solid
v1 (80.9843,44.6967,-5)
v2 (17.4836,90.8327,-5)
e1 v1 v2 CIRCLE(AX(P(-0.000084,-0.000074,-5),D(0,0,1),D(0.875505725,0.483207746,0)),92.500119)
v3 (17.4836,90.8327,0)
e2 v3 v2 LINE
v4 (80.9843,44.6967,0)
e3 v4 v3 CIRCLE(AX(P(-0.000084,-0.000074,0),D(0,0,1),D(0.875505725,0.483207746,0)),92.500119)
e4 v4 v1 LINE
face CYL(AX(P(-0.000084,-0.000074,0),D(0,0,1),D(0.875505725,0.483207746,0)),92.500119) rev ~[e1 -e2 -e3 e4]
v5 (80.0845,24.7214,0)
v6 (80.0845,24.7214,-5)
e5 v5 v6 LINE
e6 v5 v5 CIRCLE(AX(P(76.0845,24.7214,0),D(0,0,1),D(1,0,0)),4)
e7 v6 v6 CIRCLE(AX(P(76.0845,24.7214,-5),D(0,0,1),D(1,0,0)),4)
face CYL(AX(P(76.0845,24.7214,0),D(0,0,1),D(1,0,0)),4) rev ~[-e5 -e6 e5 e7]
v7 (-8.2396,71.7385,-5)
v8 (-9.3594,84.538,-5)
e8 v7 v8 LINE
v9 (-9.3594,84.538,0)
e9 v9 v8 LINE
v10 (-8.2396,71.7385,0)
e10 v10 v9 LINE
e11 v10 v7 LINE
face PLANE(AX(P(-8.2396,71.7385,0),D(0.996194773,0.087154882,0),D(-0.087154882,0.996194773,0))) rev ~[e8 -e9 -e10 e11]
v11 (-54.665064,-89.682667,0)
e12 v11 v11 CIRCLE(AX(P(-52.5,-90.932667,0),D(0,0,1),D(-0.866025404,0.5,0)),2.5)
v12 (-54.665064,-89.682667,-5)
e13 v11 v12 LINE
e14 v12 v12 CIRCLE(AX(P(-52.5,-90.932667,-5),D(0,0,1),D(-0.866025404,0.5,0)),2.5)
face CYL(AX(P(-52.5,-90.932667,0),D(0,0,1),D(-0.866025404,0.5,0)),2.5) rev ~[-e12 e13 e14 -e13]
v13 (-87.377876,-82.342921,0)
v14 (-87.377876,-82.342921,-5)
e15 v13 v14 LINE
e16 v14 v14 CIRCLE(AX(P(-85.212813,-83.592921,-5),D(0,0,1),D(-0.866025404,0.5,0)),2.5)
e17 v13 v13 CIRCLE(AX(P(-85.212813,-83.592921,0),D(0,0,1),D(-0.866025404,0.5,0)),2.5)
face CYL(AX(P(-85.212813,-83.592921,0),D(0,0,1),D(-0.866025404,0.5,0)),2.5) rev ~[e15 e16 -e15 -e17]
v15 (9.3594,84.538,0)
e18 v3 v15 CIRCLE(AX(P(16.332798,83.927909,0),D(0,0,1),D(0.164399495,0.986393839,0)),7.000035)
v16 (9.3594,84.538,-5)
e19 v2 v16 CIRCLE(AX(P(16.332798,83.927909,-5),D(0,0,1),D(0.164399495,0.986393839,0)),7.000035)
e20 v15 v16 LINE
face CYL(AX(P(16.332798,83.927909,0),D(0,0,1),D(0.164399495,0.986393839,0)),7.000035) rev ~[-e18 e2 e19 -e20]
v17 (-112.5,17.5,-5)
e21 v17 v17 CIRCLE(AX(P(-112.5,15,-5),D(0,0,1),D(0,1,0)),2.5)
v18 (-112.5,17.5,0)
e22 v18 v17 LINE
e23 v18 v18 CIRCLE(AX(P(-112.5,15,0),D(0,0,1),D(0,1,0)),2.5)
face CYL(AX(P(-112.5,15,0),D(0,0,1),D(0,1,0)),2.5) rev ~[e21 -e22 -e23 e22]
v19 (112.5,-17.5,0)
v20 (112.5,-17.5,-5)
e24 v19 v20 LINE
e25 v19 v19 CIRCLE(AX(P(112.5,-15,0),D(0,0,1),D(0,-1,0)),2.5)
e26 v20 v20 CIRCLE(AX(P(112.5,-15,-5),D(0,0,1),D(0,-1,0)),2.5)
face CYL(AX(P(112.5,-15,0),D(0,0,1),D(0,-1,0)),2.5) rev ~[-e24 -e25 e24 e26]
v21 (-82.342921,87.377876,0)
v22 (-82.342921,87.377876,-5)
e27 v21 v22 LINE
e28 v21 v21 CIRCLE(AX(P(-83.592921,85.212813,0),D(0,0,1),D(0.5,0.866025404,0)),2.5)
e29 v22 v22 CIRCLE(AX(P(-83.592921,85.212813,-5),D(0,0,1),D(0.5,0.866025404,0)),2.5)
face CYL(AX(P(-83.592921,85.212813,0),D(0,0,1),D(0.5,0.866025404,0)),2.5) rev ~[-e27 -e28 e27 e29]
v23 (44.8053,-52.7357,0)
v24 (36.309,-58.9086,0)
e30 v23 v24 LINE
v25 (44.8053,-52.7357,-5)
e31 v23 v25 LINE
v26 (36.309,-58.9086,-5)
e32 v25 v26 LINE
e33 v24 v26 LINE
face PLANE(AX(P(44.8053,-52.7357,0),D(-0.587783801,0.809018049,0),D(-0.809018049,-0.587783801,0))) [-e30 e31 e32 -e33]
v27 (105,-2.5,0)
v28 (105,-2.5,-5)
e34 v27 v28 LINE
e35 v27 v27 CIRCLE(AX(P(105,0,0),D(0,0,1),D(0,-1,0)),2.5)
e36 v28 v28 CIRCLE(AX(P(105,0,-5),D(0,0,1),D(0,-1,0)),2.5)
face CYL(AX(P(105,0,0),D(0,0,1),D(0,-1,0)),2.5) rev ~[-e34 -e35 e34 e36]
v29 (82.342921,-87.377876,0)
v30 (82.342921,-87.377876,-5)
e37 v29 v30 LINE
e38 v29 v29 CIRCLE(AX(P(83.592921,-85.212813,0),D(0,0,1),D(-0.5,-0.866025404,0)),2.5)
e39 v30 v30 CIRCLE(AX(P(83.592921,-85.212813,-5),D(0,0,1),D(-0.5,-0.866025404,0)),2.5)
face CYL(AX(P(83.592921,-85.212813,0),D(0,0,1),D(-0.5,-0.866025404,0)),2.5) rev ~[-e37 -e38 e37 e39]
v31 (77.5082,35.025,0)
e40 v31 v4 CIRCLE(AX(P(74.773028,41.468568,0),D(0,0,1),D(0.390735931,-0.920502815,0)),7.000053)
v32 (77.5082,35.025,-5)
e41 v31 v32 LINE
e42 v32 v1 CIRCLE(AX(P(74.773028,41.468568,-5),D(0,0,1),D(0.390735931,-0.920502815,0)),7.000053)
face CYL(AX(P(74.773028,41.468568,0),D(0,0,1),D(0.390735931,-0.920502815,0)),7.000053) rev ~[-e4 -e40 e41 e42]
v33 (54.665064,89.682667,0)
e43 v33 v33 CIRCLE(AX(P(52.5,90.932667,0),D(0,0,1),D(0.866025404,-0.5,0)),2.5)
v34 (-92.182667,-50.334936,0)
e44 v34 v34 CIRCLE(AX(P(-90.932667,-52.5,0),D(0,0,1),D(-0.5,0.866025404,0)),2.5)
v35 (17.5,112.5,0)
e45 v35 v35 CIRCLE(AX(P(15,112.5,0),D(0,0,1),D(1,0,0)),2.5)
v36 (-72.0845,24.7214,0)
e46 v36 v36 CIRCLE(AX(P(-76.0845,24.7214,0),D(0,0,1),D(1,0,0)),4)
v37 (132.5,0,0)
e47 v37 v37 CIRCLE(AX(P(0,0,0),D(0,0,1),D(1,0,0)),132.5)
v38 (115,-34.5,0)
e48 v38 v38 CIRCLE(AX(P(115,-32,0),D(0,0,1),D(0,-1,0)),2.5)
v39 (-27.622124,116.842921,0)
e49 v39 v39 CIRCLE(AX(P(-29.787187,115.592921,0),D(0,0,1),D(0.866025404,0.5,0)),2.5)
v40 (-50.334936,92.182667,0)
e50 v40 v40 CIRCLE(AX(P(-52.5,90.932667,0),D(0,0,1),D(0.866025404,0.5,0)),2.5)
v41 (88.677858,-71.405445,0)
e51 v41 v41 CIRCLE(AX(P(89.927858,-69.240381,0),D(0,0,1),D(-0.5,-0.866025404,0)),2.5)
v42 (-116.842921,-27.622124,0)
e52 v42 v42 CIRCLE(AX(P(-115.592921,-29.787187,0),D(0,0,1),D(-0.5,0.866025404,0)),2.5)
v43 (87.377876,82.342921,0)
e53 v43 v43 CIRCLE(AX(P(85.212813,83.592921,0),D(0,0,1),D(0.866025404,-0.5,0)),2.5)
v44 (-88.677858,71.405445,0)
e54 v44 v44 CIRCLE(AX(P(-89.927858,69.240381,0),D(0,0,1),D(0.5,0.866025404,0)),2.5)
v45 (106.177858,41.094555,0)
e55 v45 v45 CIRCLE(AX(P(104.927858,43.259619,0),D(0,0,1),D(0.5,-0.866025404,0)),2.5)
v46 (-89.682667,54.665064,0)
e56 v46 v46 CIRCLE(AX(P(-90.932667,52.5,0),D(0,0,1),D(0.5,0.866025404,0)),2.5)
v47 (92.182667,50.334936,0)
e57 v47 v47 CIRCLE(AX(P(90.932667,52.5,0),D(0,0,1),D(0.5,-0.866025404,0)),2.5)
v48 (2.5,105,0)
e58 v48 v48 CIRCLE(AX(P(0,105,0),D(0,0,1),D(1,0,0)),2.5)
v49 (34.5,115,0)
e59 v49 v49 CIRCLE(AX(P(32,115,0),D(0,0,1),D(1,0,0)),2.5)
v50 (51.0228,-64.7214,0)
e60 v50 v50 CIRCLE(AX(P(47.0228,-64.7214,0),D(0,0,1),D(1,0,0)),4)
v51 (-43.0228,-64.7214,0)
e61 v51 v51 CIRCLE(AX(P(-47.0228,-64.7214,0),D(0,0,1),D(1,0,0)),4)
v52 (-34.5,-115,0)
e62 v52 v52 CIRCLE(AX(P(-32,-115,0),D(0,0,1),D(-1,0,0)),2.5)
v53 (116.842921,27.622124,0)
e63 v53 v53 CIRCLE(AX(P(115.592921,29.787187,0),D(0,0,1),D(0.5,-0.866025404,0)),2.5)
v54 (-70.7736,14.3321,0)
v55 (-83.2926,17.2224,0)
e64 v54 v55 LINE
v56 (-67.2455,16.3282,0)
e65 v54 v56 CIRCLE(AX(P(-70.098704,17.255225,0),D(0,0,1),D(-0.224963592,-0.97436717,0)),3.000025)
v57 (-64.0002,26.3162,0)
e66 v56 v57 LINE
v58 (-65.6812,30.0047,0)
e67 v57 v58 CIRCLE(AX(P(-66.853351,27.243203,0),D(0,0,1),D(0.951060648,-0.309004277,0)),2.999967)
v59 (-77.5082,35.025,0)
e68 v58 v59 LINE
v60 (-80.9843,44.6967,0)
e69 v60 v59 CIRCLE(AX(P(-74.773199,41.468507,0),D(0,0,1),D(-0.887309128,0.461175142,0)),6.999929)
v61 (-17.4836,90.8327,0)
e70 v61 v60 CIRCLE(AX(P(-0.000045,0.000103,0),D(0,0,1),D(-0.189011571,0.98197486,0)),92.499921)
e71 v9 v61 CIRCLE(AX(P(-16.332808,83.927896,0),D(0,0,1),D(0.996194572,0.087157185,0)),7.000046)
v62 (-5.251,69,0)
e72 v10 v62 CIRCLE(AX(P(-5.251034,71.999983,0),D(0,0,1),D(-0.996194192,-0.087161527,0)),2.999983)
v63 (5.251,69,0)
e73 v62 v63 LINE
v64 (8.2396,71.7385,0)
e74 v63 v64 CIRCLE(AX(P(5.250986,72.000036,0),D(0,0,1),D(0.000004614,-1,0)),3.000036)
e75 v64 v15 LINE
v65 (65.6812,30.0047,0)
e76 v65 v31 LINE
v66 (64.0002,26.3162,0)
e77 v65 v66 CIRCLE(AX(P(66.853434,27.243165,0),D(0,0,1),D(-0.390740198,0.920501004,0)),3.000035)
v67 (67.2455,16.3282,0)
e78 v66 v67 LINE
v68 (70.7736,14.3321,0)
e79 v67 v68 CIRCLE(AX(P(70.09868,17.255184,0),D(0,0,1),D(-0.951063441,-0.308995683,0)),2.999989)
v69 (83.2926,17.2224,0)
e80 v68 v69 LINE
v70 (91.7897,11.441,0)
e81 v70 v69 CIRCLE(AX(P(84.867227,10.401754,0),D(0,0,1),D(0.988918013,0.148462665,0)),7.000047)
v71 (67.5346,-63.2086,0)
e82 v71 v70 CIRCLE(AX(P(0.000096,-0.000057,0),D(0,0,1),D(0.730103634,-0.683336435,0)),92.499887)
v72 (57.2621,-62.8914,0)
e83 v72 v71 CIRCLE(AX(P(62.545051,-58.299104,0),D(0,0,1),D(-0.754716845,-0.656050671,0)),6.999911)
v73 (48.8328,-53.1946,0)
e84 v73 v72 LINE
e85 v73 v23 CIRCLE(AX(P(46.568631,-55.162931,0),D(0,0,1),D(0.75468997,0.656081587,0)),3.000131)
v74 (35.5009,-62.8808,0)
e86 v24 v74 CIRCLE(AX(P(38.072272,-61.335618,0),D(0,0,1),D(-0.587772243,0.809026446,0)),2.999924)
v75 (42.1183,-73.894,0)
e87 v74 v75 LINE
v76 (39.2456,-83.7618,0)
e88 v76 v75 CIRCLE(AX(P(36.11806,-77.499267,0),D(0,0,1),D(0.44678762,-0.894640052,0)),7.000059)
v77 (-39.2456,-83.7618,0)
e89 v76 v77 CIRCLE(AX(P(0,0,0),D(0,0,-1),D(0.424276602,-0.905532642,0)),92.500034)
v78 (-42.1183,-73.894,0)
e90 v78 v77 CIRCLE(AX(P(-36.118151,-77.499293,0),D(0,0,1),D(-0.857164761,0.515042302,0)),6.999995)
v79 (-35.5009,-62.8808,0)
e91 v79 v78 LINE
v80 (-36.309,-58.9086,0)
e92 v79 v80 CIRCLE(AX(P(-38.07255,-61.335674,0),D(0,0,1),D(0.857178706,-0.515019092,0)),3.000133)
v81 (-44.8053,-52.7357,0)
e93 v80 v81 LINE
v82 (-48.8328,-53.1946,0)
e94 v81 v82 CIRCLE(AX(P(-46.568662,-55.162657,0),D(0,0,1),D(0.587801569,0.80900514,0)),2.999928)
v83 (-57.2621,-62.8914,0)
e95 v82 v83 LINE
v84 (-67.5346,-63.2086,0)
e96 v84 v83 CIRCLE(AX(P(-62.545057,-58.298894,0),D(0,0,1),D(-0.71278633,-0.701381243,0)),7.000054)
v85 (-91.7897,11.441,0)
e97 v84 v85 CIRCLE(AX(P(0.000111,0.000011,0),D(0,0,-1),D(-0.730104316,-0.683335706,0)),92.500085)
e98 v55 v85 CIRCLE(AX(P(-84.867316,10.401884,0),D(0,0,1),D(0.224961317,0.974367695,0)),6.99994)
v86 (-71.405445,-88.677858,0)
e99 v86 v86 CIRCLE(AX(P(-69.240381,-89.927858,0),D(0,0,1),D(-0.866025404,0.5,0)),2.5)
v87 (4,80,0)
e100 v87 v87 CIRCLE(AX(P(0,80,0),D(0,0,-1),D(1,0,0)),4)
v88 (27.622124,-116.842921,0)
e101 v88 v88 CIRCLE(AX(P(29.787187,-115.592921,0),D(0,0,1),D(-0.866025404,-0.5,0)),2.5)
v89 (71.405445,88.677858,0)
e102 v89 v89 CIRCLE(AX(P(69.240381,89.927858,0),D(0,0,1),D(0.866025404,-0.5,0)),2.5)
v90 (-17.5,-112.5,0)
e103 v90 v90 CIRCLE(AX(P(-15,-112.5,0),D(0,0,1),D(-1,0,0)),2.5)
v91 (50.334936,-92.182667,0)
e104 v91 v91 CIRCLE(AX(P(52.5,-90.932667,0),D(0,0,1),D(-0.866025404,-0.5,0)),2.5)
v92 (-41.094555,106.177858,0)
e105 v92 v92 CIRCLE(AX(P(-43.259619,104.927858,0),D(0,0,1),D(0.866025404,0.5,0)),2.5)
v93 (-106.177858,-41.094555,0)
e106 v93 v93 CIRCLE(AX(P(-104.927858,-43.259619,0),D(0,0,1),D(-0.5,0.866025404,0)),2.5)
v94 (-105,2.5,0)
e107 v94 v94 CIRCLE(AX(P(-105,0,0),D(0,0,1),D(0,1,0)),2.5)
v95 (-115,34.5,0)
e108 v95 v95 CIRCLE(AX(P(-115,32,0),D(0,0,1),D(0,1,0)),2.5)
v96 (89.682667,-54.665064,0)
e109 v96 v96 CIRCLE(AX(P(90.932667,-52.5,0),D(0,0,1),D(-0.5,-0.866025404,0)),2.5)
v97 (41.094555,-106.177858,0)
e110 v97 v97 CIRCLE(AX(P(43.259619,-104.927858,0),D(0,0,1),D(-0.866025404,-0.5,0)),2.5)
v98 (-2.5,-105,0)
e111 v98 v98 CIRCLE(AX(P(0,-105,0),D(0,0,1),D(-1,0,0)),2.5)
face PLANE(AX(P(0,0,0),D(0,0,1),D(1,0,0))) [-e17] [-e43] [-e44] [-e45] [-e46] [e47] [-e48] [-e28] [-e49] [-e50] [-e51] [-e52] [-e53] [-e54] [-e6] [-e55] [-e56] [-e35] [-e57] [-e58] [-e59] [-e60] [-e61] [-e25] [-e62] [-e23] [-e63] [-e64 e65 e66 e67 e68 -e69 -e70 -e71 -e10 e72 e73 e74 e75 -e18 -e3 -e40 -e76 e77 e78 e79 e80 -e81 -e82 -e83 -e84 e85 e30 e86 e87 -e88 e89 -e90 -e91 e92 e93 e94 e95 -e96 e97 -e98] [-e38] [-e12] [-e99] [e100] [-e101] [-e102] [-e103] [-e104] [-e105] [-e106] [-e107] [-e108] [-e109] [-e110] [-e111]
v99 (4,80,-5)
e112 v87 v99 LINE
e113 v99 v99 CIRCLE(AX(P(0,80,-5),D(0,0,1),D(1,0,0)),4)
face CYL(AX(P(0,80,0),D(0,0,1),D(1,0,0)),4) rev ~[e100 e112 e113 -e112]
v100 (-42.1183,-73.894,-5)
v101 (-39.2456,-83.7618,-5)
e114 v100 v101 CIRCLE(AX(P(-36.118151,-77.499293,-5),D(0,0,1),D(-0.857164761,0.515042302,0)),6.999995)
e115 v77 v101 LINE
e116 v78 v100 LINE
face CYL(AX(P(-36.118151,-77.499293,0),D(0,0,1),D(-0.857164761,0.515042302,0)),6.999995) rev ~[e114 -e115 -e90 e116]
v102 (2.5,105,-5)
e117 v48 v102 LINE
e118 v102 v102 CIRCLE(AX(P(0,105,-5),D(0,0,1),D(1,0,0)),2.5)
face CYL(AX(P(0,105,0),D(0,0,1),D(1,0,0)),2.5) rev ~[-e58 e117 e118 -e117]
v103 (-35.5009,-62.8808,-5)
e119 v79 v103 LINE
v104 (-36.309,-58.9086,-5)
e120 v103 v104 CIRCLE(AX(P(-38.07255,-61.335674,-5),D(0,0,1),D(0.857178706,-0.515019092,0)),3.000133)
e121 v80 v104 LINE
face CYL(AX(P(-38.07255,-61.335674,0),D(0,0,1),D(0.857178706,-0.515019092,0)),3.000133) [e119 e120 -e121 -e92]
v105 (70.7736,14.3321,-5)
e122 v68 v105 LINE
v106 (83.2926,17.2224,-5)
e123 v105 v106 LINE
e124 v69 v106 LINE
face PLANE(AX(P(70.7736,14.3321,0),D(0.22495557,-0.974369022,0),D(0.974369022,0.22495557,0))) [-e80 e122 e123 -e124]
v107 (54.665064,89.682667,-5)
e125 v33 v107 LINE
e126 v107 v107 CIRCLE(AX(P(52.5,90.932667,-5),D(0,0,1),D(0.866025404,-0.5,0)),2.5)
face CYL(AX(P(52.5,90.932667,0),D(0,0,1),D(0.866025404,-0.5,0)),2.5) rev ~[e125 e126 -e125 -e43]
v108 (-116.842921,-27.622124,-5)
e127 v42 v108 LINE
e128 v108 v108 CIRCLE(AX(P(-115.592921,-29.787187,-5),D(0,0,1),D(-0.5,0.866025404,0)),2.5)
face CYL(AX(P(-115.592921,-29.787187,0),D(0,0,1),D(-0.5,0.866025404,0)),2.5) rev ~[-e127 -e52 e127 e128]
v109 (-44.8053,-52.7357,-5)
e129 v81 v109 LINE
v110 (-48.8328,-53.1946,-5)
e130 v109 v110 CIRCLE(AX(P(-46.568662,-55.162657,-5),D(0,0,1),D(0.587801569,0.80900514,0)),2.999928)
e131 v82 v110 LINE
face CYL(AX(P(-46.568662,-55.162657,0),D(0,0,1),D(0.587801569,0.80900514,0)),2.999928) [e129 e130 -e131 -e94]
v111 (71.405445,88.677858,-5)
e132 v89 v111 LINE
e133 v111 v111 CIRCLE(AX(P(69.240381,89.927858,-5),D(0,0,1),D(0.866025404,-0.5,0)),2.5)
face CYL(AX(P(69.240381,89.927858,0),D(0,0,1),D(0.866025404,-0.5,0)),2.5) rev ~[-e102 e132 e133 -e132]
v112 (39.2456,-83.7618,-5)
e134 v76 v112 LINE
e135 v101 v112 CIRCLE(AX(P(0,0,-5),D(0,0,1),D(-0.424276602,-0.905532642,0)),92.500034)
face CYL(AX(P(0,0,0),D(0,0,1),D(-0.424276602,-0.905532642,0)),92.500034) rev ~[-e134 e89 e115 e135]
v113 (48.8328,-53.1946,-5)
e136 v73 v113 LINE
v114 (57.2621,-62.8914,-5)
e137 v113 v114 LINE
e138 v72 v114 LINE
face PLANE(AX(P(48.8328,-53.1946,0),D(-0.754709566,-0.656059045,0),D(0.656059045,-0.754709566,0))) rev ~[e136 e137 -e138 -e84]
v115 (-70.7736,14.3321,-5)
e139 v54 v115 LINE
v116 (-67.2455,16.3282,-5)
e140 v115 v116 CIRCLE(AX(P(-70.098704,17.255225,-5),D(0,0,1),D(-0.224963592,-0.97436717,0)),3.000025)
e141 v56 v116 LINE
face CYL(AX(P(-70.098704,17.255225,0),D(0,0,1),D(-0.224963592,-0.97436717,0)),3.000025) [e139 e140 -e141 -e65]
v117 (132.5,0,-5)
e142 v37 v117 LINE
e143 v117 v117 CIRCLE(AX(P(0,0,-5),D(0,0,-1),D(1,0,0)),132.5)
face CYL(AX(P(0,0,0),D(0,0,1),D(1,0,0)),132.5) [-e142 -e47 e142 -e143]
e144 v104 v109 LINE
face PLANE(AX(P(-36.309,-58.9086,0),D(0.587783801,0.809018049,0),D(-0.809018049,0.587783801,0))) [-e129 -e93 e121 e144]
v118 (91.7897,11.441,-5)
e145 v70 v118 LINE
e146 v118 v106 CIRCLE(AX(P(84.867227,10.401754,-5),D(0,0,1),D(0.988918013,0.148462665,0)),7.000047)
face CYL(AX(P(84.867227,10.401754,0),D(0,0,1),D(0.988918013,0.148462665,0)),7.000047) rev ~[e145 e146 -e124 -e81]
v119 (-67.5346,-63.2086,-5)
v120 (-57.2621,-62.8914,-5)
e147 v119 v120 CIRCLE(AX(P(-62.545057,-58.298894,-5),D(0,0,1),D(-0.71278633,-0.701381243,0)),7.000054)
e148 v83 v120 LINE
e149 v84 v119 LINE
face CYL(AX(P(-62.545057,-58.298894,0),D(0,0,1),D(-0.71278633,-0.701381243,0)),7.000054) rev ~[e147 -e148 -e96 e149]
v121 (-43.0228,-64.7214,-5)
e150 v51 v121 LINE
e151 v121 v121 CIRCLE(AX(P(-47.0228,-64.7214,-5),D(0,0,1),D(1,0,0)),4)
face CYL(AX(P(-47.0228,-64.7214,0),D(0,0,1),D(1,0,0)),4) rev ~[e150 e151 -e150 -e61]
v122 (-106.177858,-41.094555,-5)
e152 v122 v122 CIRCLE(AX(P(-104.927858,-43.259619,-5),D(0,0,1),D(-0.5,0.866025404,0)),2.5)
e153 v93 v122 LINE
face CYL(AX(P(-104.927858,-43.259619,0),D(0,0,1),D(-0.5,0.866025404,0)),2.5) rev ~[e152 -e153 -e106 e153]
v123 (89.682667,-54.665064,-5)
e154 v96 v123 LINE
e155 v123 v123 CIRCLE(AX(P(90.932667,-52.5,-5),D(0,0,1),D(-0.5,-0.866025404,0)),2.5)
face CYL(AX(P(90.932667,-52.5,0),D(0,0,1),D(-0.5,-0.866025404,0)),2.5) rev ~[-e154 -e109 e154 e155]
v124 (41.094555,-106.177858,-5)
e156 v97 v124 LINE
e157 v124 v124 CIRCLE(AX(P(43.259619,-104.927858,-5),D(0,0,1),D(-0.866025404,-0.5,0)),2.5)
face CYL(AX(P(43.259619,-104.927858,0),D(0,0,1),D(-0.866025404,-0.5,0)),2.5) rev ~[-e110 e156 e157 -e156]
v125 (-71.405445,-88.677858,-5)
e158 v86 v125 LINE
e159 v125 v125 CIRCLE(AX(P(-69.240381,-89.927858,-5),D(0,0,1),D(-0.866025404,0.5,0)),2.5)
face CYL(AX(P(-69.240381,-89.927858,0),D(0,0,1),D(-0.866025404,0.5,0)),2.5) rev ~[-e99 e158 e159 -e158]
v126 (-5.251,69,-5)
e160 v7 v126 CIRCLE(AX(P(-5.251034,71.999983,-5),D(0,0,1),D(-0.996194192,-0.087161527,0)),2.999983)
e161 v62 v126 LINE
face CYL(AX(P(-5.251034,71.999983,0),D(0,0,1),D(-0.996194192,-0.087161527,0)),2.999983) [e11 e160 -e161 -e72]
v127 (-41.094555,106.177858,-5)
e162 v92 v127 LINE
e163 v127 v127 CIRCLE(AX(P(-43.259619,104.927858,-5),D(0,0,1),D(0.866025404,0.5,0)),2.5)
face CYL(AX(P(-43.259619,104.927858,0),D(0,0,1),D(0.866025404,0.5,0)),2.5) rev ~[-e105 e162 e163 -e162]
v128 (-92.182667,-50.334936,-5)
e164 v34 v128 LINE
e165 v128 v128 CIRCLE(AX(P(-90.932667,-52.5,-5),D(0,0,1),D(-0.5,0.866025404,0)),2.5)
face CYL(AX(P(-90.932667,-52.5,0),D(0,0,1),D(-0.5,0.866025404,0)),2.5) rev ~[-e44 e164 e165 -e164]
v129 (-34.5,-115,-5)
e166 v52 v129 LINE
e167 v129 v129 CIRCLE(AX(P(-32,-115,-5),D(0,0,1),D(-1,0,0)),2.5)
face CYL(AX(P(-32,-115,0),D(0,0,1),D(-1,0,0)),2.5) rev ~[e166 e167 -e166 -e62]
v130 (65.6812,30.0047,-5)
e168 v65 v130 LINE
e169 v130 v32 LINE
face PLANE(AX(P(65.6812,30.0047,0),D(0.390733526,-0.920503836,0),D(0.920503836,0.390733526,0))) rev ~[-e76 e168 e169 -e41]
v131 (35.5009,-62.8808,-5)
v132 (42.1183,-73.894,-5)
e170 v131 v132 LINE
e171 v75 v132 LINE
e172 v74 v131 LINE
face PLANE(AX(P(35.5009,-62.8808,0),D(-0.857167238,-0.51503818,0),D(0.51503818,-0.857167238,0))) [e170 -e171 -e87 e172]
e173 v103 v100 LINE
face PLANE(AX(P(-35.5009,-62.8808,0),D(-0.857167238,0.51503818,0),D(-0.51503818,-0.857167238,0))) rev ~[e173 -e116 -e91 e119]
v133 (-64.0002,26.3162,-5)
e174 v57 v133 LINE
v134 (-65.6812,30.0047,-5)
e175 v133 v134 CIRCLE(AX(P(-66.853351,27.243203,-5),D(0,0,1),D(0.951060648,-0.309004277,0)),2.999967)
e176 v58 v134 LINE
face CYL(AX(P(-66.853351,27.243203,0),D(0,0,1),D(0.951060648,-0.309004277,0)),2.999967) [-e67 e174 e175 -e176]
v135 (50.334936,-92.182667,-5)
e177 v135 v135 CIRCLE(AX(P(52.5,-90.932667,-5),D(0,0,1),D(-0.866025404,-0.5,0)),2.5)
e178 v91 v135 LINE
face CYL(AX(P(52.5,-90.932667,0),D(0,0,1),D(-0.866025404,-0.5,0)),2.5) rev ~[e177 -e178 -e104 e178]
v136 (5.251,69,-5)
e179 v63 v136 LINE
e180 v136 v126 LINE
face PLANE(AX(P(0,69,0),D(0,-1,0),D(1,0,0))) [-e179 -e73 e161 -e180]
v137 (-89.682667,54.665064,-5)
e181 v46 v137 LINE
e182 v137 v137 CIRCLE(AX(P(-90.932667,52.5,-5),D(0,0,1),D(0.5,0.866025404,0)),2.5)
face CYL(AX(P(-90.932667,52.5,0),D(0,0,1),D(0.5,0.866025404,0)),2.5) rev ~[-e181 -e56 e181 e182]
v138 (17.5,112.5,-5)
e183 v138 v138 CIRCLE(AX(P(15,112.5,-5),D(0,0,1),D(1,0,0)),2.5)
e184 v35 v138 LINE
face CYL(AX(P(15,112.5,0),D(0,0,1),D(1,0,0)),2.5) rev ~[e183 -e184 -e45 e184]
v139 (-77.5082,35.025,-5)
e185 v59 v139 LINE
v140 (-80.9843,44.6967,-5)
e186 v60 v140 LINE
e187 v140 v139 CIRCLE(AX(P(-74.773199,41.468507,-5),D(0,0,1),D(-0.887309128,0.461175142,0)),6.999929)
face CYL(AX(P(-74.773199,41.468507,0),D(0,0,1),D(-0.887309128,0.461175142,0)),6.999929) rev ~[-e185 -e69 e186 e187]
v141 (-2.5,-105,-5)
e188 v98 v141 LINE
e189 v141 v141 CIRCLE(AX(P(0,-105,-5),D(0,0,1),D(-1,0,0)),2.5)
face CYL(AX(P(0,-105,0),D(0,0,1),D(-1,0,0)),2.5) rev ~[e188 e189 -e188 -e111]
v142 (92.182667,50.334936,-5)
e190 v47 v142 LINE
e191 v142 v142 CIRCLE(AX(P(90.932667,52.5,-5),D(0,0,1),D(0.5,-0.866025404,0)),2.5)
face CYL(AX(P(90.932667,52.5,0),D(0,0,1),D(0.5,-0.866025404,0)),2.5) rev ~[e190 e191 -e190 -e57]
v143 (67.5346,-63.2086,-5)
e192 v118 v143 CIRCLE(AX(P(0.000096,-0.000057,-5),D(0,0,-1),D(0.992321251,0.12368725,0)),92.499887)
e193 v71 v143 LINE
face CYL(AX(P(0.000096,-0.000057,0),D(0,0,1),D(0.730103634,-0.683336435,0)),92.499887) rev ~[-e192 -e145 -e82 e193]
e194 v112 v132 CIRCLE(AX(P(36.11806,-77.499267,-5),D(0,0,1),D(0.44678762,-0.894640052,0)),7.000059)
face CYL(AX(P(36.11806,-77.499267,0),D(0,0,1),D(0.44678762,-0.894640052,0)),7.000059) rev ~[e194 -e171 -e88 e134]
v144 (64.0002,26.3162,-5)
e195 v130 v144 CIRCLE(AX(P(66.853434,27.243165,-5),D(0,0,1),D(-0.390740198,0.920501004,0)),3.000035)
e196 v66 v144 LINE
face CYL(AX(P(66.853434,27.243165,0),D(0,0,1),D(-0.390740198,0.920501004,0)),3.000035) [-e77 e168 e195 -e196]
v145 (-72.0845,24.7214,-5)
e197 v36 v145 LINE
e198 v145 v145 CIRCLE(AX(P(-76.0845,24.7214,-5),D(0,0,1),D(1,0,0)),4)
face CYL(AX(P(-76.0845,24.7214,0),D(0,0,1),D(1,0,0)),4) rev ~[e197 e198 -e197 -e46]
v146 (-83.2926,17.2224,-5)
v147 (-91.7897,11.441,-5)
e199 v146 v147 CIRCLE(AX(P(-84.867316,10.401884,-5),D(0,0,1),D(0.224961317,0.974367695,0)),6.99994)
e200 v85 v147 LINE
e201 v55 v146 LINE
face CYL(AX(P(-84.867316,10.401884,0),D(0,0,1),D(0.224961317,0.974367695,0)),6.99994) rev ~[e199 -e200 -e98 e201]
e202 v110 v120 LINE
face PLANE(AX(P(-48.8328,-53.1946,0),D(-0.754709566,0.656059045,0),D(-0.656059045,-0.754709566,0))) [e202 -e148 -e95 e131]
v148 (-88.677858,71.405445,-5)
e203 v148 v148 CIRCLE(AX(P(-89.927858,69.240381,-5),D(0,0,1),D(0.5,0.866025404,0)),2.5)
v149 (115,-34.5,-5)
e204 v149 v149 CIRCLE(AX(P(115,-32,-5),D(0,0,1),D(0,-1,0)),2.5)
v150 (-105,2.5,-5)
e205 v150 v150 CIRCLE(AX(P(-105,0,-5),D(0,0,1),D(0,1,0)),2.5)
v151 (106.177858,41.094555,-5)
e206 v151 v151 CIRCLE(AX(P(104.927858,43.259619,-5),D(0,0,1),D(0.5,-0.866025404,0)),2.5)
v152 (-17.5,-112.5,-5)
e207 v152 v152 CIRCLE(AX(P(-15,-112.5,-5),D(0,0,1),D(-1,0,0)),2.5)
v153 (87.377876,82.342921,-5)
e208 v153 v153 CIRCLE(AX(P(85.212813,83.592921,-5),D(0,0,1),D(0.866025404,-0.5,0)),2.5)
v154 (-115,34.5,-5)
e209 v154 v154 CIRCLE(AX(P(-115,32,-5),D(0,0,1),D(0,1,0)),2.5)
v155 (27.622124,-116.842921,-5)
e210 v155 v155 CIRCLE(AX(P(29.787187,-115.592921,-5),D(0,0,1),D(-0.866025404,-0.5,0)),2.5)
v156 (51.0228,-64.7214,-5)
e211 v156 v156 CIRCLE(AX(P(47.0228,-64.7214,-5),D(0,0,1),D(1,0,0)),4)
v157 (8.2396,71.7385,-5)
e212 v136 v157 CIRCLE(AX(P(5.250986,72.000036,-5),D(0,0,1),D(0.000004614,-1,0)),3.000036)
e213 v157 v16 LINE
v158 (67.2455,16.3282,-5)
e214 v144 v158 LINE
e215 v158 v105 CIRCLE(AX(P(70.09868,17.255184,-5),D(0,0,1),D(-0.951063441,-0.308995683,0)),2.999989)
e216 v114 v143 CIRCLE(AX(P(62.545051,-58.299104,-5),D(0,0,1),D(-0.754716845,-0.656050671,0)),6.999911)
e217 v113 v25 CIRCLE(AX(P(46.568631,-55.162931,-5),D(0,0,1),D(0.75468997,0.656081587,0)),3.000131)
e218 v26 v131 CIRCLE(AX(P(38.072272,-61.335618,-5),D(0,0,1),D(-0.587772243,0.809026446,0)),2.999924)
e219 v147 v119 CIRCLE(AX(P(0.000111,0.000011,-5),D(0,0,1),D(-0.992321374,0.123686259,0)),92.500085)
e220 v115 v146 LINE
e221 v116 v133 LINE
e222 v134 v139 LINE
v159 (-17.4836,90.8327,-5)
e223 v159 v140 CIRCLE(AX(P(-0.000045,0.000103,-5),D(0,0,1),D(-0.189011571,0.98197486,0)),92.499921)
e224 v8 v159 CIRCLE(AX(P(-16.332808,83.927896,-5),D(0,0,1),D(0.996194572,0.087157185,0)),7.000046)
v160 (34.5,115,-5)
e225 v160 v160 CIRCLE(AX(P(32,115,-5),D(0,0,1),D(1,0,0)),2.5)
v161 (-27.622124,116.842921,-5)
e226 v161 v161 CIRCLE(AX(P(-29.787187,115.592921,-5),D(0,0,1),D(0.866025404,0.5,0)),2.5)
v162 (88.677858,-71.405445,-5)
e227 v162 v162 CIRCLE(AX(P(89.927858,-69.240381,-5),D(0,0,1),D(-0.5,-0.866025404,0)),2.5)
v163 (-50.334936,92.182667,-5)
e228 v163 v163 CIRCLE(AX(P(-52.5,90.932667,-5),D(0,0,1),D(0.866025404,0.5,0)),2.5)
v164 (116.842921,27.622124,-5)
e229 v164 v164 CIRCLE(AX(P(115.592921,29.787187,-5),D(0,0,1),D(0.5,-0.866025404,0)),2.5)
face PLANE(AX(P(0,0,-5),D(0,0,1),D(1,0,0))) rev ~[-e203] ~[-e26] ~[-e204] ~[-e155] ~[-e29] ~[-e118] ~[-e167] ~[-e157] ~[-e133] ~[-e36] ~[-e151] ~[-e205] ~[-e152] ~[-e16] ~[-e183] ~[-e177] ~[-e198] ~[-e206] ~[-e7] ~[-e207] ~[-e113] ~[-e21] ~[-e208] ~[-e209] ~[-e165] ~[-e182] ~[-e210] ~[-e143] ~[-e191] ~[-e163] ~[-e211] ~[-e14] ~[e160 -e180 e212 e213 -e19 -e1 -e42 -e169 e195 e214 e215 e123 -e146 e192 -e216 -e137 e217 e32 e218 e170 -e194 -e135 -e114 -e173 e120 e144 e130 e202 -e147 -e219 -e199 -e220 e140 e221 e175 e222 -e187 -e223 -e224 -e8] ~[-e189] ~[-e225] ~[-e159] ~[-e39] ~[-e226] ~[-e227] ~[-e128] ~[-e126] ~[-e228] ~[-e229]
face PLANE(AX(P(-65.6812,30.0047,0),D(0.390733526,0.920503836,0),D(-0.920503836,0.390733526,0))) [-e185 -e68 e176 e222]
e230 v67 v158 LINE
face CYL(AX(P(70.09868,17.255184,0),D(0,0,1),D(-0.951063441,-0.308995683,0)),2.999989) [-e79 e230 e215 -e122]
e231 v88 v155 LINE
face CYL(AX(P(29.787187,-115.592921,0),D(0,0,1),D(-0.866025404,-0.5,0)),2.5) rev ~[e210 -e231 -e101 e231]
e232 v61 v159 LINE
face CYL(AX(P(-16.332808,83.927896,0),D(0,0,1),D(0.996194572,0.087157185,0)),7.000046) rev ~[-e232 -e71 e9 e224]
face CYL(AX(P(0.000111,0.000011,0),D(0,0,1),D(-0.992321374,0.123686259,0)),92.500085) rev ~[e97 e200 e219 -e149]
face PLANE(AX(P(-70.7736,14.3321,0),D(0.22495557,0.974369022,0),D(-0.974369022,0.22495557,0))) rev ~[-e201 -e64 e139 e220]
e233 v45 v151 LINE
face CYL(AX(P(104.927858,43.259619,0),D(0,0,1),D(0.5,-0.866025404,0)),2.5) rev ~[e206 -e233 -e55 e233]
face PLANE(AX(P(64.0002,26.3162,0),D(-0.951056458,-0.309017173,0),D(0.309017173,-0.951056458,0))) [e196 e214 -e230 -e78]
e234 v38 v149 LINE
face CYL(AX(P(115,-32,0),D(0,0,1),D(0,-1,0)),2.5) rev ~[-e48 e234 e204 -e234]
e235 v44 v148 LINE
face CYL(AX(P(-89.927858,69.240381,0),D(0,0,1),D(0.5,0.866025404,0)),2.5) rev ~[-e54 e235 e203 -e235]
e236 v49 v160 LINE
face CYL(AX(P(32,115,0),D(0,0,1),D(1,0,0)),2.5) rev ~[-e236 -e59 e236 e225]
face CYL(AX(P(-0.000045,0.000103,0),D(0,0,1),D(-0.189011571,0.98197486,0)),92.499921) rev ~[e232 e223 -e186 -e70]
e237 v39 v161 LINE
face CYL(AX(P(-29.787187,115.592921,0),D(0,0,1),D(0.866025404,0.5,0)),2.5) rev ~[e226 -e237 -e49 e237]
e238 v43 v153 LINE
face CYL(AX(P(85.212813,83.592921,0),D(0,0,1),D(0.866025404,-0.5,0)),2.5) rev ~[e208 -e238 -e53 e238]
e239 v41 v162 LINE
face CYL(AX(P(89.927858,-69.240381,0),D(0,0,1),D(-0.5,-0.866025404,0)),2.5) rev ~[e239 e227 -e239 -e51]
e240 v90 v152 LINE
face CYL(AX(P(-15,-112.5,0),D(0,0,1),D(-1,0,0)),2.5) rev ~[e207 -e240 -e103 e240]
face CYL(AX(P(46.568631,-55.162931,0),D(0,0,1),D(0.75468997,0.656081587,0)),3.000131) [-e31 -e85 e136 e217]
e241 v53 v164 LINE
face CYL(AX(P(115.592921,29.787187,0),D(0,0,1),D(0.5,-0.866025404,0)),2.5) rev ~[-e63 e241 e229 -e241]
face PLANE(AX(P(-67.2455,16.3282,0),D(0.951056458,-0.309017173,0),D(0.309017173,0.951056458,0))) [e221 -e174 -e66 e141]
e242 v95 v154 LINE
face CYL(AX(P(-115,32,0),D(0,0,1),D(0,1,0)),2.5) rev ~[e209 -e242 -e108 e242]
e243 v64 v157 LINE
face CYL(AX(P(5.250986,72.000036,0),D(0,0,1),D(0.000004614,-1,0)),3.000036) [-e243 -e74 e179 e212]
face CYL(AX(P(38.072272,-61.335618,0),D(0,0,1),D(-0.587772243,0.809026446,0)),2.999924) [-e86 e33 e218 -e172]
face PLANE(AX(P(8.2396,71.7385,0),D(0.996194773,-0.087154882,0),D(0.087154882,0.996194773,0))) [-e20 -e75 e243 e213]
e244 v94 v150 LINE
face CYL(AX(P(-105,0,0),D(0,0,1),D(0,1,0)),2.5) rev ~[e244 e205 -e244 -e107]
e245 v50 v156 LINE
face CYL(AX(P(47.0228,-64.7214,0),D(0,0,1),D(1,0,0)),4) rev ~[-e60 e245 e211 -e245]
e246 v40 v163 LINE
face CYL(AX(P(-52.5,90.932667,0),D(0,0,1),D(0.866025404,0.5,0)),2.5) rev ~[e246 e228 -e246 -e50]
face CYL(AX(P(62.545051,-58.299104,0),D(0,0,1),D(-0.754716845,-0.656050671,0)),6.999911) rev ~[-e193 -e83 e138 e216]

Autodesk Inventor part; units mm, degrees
ref_plane "YZ Plane" through (0, 0, 0) normal (1, 0, 0) x (0, 1, 0)
ref_plane "XZ Plane" through (0, 0, 0) normal (0, 1, 0) x (-1, 0, 0)
ref_plane "XY Plane" through (0, 0, 0) normal (0, 0, 1) x (1, 0, 0)
sketch "Skizze1" plane through (0, 0, 0) normal (0, 0, 1) x (1, 0, 0)
  circle A0 centre (0, 0) radius 132.5
  line L0 (-185.5, 0) -> (185.5, 0) projected
  line L1 (0, -185.5) -> (0, 185.5) projected
  circle A1 centre (0, 0) radius 80 construction
  circle A2 centre (0, 80) radius 4
  line L2 (8.2396, 71.7385) -> (9.3594, 84.538)
  line L3 (-8.2396, 71.7385) -> (-9.3594, 84.538)
  line L4 (-5.251, 69) -> (5.251, 69)
  arc A3 (-9.3594, 84.538) -> (-17.4836, 90.8327) centre (-16.3328, 83.9279) ccw
  arc A4 (17.4836, 90.8327) -> (9.3594, 84.538) centre (16.3328, 83.9279) ccw
  arc A5 (-8.2396, 71.7385) -> (-5.251, 69) centre (-5.251, 72) ccw
  arc A6 (5.251, 69) -> (8.2396, 71.7385) centre (5.251, 72) ccw
  circle A7 centre (-76.0845, 24.7214) radius 4
  line L5 (-65.6812, 30.0047) -> (-77.5082, 35.025)
  line L6 (-70.7736, 14.3321) -> (-83.2926, 17.2224)
  line L7 (-67.2455, 16.3282) -> (-64.0002, 26.3162)
  arc A8 (-83.2926, 17.2224) -> (-91.7897, 11.441) centre (-84.8673, 10.4018) ccw
  arc A9 (-80.9843, 44.6967) -> (-77.5082, 35.025) centre (-74.7731, 41.4685) ccw
  arc A10 (-70.7736, 14.3321) -> (-67.2455, 16.3282) centre (-70.0987, 17.2552) ccw
  arc A11 (-64.0002, 26.3162) -> (-65.6812, 30.0047) centre (-66.8534, 27.2432) ccw
  circle A12 centre (-47.0228, -64.7214) radius 4
  line L8 (-48.8328, -53.1946) -> (-57.2621, -62.8914)
  line L9 (-35.5009, -62.8808) -> (-42.1183, -73.894)
  line L10 (-36.309, -58.9086) -> (-44.8053, -52.7357)
  arc A13 (-42.1183, -73.894) -> (-39.2456, -83.7618) centre (-36.1181, -77.4993) ccw
  arc A14 (-67.5346, -63.2086) -> (-57.2621, -62.8914) centre (-62.5451, -58.299) ccw
  arc A15 (-35.5009, -62.8808) -> (-36.309, -58.9086) centre (-38.0724, -61.3357) ccw
  arc A16 (-44.8053, -52.7357) -> (-48.8328, -53.1946) centre (-46.5687, -55.1628) ccw
  circle A17 centre (47.0228, -64.7214) radius 4
  line L11 (35.5009, -62.8808) -> (42.1183, -73.894)
  line L12 (48.8328, -53.1946) -> (57.2621, -62.8914)
  line L13 (44.8053, -52.7357) -> (36.309, -58.9086)
  arc A18 (57.2621, -62.8914) -> (67.5346, -63.2086) centre (62.5451, -58.299) ccw
  arc A19 (39.2456, -83.7618) -> (42.1183, -73.894) centre (36.1181, -77.4993) ccw
  arc A20 (48.8328, -53.1946) -> (44.8053, -52.7357) centre (46.5687, -55.1628) ccw
  arc A21 (36.309, -58.9086) -> (35.5009, -62.8808) centre (38.0724, -61.3357) ccw
  circle A22 centre (76.0845, 24.7214) radius 4
  line L14 (70.7736, 14.3321) -> (83.2926, 17.2224)
  line L15 (65.6812, 30.0047) -> (77.5082, 35.025)
  line L16 (64.0002, 26.3162) -> (67.2455, 16.3282)
  arc A23 (77.5082, 35.025) -> (80.9843, 44.6967) centre (74.7731, 41.4685) ccw
  arc A24 (91.7897, 11.441) -> (83.2926, 17.2224) centre (84.8673, 10.4018) ccw
  arc A25 (65.6812, 30.0047) -> (64.0002, 26.3162) centre (66.8534, 27.2432) ccw
  arc A26 (67.2455, 16.3282) -> (70.7736, 14.3321) centre (70.0987, 17.2552) ccw
  arc A27 (80.9843, 44.6967) -> (17.4836, 90.8327) centre (0, 0) ccw
  arc A28 (-17.4836, 90.8327) -> (-80.9843, 44.6967) centre (0, 0) ccw
  arc A29 (-91.7897, 11.441) -> (-67.5346, -63.2086) centre (0, 0) ccw
  arc A30 (-39.2456, -83.7618) -> (39.2456, -83.7618) centre (0, 0) ccw
  arc A31 (67.5346, -63.2086) -> (91.7897, 11.441) centre (0, 0) ccw
  point P0 (10.0088, 91.9605)
  point P1 (-10.0088, 91.9605)
  point P2 (-8, 69)
  point P3 (8, 69)
  point P4 (-68.095, 13.7137)
  point P5 (-63.1508, 28.9306)
  point P6 (-34.085, -60.5245)
  point P7 (-47.0293, -51.1199)
  point P8 (47.0293, -51.1199)
  point P9 (34.085, -60.5245)
  point P10 (63.1508, 28.9306)
  point P11 (68.095, 13.7137)
  dimension "d2" = 160
  dimension "d0" = 265
  dimension "d3" = 8
  dimension "d5" = 10
  dimension "d6" = 16
  dimension "d7" = 7
  dimension "d8" = 3
  dimension "d11" = 360
  dimension "d36" = 69
extrude "Extrusion1" add sketch "Skizze1" against normal blind 5 contours L0 A31 A24 L14 A26 L16 A25 L15 A23 A27 A4 L2 A6 L4 L1 A2 A0 | A0 L1 A30 A19 L11 A21 L13 A20 L12 A18 A31 L0 | L1 A2 L4 A5 L3 A3 A28 A9 L5 A11 L7 A10 L6 A8 A29 L0 A0 | A0 L0 A29 A14 L8 A16 L10 A15 L9 A13 A30 L1
sketch "Skizze2" plane through (0, 0, 0) normal (0, 0, 1) x (1, 0, 0)
  line L0 (-185.5, 0) -> (185.5, 0) construction
  line L1 (0, -185.5) -> (0, 185.5) construction
  circle A0 centre (0, 105) radius 2.5
  circle A1 centre (15, 112.5) radius 2.5
  circle A2 centre (32, 115) radius 2.5
  dimension "d23" = 5
  dimension "d24" = 5
  dimension "d25" = 5
  dimension "d26" = 105
  dimension "d27" = 112.5
  dimension "d28" = 115
  dimension "d29" = 15
  dimension "d30" = 32
extrude "Extrusion2" cut sketch "Skizze2" against normal through all
pattern_circular "Runde Anordnung1" count 12 over 360 about axis through (0, 0, -10) along (0, 0, 1) of "Extrusion2"
properties part number "HP2 Raceparts 002" material "钢，高强度，低合金"
